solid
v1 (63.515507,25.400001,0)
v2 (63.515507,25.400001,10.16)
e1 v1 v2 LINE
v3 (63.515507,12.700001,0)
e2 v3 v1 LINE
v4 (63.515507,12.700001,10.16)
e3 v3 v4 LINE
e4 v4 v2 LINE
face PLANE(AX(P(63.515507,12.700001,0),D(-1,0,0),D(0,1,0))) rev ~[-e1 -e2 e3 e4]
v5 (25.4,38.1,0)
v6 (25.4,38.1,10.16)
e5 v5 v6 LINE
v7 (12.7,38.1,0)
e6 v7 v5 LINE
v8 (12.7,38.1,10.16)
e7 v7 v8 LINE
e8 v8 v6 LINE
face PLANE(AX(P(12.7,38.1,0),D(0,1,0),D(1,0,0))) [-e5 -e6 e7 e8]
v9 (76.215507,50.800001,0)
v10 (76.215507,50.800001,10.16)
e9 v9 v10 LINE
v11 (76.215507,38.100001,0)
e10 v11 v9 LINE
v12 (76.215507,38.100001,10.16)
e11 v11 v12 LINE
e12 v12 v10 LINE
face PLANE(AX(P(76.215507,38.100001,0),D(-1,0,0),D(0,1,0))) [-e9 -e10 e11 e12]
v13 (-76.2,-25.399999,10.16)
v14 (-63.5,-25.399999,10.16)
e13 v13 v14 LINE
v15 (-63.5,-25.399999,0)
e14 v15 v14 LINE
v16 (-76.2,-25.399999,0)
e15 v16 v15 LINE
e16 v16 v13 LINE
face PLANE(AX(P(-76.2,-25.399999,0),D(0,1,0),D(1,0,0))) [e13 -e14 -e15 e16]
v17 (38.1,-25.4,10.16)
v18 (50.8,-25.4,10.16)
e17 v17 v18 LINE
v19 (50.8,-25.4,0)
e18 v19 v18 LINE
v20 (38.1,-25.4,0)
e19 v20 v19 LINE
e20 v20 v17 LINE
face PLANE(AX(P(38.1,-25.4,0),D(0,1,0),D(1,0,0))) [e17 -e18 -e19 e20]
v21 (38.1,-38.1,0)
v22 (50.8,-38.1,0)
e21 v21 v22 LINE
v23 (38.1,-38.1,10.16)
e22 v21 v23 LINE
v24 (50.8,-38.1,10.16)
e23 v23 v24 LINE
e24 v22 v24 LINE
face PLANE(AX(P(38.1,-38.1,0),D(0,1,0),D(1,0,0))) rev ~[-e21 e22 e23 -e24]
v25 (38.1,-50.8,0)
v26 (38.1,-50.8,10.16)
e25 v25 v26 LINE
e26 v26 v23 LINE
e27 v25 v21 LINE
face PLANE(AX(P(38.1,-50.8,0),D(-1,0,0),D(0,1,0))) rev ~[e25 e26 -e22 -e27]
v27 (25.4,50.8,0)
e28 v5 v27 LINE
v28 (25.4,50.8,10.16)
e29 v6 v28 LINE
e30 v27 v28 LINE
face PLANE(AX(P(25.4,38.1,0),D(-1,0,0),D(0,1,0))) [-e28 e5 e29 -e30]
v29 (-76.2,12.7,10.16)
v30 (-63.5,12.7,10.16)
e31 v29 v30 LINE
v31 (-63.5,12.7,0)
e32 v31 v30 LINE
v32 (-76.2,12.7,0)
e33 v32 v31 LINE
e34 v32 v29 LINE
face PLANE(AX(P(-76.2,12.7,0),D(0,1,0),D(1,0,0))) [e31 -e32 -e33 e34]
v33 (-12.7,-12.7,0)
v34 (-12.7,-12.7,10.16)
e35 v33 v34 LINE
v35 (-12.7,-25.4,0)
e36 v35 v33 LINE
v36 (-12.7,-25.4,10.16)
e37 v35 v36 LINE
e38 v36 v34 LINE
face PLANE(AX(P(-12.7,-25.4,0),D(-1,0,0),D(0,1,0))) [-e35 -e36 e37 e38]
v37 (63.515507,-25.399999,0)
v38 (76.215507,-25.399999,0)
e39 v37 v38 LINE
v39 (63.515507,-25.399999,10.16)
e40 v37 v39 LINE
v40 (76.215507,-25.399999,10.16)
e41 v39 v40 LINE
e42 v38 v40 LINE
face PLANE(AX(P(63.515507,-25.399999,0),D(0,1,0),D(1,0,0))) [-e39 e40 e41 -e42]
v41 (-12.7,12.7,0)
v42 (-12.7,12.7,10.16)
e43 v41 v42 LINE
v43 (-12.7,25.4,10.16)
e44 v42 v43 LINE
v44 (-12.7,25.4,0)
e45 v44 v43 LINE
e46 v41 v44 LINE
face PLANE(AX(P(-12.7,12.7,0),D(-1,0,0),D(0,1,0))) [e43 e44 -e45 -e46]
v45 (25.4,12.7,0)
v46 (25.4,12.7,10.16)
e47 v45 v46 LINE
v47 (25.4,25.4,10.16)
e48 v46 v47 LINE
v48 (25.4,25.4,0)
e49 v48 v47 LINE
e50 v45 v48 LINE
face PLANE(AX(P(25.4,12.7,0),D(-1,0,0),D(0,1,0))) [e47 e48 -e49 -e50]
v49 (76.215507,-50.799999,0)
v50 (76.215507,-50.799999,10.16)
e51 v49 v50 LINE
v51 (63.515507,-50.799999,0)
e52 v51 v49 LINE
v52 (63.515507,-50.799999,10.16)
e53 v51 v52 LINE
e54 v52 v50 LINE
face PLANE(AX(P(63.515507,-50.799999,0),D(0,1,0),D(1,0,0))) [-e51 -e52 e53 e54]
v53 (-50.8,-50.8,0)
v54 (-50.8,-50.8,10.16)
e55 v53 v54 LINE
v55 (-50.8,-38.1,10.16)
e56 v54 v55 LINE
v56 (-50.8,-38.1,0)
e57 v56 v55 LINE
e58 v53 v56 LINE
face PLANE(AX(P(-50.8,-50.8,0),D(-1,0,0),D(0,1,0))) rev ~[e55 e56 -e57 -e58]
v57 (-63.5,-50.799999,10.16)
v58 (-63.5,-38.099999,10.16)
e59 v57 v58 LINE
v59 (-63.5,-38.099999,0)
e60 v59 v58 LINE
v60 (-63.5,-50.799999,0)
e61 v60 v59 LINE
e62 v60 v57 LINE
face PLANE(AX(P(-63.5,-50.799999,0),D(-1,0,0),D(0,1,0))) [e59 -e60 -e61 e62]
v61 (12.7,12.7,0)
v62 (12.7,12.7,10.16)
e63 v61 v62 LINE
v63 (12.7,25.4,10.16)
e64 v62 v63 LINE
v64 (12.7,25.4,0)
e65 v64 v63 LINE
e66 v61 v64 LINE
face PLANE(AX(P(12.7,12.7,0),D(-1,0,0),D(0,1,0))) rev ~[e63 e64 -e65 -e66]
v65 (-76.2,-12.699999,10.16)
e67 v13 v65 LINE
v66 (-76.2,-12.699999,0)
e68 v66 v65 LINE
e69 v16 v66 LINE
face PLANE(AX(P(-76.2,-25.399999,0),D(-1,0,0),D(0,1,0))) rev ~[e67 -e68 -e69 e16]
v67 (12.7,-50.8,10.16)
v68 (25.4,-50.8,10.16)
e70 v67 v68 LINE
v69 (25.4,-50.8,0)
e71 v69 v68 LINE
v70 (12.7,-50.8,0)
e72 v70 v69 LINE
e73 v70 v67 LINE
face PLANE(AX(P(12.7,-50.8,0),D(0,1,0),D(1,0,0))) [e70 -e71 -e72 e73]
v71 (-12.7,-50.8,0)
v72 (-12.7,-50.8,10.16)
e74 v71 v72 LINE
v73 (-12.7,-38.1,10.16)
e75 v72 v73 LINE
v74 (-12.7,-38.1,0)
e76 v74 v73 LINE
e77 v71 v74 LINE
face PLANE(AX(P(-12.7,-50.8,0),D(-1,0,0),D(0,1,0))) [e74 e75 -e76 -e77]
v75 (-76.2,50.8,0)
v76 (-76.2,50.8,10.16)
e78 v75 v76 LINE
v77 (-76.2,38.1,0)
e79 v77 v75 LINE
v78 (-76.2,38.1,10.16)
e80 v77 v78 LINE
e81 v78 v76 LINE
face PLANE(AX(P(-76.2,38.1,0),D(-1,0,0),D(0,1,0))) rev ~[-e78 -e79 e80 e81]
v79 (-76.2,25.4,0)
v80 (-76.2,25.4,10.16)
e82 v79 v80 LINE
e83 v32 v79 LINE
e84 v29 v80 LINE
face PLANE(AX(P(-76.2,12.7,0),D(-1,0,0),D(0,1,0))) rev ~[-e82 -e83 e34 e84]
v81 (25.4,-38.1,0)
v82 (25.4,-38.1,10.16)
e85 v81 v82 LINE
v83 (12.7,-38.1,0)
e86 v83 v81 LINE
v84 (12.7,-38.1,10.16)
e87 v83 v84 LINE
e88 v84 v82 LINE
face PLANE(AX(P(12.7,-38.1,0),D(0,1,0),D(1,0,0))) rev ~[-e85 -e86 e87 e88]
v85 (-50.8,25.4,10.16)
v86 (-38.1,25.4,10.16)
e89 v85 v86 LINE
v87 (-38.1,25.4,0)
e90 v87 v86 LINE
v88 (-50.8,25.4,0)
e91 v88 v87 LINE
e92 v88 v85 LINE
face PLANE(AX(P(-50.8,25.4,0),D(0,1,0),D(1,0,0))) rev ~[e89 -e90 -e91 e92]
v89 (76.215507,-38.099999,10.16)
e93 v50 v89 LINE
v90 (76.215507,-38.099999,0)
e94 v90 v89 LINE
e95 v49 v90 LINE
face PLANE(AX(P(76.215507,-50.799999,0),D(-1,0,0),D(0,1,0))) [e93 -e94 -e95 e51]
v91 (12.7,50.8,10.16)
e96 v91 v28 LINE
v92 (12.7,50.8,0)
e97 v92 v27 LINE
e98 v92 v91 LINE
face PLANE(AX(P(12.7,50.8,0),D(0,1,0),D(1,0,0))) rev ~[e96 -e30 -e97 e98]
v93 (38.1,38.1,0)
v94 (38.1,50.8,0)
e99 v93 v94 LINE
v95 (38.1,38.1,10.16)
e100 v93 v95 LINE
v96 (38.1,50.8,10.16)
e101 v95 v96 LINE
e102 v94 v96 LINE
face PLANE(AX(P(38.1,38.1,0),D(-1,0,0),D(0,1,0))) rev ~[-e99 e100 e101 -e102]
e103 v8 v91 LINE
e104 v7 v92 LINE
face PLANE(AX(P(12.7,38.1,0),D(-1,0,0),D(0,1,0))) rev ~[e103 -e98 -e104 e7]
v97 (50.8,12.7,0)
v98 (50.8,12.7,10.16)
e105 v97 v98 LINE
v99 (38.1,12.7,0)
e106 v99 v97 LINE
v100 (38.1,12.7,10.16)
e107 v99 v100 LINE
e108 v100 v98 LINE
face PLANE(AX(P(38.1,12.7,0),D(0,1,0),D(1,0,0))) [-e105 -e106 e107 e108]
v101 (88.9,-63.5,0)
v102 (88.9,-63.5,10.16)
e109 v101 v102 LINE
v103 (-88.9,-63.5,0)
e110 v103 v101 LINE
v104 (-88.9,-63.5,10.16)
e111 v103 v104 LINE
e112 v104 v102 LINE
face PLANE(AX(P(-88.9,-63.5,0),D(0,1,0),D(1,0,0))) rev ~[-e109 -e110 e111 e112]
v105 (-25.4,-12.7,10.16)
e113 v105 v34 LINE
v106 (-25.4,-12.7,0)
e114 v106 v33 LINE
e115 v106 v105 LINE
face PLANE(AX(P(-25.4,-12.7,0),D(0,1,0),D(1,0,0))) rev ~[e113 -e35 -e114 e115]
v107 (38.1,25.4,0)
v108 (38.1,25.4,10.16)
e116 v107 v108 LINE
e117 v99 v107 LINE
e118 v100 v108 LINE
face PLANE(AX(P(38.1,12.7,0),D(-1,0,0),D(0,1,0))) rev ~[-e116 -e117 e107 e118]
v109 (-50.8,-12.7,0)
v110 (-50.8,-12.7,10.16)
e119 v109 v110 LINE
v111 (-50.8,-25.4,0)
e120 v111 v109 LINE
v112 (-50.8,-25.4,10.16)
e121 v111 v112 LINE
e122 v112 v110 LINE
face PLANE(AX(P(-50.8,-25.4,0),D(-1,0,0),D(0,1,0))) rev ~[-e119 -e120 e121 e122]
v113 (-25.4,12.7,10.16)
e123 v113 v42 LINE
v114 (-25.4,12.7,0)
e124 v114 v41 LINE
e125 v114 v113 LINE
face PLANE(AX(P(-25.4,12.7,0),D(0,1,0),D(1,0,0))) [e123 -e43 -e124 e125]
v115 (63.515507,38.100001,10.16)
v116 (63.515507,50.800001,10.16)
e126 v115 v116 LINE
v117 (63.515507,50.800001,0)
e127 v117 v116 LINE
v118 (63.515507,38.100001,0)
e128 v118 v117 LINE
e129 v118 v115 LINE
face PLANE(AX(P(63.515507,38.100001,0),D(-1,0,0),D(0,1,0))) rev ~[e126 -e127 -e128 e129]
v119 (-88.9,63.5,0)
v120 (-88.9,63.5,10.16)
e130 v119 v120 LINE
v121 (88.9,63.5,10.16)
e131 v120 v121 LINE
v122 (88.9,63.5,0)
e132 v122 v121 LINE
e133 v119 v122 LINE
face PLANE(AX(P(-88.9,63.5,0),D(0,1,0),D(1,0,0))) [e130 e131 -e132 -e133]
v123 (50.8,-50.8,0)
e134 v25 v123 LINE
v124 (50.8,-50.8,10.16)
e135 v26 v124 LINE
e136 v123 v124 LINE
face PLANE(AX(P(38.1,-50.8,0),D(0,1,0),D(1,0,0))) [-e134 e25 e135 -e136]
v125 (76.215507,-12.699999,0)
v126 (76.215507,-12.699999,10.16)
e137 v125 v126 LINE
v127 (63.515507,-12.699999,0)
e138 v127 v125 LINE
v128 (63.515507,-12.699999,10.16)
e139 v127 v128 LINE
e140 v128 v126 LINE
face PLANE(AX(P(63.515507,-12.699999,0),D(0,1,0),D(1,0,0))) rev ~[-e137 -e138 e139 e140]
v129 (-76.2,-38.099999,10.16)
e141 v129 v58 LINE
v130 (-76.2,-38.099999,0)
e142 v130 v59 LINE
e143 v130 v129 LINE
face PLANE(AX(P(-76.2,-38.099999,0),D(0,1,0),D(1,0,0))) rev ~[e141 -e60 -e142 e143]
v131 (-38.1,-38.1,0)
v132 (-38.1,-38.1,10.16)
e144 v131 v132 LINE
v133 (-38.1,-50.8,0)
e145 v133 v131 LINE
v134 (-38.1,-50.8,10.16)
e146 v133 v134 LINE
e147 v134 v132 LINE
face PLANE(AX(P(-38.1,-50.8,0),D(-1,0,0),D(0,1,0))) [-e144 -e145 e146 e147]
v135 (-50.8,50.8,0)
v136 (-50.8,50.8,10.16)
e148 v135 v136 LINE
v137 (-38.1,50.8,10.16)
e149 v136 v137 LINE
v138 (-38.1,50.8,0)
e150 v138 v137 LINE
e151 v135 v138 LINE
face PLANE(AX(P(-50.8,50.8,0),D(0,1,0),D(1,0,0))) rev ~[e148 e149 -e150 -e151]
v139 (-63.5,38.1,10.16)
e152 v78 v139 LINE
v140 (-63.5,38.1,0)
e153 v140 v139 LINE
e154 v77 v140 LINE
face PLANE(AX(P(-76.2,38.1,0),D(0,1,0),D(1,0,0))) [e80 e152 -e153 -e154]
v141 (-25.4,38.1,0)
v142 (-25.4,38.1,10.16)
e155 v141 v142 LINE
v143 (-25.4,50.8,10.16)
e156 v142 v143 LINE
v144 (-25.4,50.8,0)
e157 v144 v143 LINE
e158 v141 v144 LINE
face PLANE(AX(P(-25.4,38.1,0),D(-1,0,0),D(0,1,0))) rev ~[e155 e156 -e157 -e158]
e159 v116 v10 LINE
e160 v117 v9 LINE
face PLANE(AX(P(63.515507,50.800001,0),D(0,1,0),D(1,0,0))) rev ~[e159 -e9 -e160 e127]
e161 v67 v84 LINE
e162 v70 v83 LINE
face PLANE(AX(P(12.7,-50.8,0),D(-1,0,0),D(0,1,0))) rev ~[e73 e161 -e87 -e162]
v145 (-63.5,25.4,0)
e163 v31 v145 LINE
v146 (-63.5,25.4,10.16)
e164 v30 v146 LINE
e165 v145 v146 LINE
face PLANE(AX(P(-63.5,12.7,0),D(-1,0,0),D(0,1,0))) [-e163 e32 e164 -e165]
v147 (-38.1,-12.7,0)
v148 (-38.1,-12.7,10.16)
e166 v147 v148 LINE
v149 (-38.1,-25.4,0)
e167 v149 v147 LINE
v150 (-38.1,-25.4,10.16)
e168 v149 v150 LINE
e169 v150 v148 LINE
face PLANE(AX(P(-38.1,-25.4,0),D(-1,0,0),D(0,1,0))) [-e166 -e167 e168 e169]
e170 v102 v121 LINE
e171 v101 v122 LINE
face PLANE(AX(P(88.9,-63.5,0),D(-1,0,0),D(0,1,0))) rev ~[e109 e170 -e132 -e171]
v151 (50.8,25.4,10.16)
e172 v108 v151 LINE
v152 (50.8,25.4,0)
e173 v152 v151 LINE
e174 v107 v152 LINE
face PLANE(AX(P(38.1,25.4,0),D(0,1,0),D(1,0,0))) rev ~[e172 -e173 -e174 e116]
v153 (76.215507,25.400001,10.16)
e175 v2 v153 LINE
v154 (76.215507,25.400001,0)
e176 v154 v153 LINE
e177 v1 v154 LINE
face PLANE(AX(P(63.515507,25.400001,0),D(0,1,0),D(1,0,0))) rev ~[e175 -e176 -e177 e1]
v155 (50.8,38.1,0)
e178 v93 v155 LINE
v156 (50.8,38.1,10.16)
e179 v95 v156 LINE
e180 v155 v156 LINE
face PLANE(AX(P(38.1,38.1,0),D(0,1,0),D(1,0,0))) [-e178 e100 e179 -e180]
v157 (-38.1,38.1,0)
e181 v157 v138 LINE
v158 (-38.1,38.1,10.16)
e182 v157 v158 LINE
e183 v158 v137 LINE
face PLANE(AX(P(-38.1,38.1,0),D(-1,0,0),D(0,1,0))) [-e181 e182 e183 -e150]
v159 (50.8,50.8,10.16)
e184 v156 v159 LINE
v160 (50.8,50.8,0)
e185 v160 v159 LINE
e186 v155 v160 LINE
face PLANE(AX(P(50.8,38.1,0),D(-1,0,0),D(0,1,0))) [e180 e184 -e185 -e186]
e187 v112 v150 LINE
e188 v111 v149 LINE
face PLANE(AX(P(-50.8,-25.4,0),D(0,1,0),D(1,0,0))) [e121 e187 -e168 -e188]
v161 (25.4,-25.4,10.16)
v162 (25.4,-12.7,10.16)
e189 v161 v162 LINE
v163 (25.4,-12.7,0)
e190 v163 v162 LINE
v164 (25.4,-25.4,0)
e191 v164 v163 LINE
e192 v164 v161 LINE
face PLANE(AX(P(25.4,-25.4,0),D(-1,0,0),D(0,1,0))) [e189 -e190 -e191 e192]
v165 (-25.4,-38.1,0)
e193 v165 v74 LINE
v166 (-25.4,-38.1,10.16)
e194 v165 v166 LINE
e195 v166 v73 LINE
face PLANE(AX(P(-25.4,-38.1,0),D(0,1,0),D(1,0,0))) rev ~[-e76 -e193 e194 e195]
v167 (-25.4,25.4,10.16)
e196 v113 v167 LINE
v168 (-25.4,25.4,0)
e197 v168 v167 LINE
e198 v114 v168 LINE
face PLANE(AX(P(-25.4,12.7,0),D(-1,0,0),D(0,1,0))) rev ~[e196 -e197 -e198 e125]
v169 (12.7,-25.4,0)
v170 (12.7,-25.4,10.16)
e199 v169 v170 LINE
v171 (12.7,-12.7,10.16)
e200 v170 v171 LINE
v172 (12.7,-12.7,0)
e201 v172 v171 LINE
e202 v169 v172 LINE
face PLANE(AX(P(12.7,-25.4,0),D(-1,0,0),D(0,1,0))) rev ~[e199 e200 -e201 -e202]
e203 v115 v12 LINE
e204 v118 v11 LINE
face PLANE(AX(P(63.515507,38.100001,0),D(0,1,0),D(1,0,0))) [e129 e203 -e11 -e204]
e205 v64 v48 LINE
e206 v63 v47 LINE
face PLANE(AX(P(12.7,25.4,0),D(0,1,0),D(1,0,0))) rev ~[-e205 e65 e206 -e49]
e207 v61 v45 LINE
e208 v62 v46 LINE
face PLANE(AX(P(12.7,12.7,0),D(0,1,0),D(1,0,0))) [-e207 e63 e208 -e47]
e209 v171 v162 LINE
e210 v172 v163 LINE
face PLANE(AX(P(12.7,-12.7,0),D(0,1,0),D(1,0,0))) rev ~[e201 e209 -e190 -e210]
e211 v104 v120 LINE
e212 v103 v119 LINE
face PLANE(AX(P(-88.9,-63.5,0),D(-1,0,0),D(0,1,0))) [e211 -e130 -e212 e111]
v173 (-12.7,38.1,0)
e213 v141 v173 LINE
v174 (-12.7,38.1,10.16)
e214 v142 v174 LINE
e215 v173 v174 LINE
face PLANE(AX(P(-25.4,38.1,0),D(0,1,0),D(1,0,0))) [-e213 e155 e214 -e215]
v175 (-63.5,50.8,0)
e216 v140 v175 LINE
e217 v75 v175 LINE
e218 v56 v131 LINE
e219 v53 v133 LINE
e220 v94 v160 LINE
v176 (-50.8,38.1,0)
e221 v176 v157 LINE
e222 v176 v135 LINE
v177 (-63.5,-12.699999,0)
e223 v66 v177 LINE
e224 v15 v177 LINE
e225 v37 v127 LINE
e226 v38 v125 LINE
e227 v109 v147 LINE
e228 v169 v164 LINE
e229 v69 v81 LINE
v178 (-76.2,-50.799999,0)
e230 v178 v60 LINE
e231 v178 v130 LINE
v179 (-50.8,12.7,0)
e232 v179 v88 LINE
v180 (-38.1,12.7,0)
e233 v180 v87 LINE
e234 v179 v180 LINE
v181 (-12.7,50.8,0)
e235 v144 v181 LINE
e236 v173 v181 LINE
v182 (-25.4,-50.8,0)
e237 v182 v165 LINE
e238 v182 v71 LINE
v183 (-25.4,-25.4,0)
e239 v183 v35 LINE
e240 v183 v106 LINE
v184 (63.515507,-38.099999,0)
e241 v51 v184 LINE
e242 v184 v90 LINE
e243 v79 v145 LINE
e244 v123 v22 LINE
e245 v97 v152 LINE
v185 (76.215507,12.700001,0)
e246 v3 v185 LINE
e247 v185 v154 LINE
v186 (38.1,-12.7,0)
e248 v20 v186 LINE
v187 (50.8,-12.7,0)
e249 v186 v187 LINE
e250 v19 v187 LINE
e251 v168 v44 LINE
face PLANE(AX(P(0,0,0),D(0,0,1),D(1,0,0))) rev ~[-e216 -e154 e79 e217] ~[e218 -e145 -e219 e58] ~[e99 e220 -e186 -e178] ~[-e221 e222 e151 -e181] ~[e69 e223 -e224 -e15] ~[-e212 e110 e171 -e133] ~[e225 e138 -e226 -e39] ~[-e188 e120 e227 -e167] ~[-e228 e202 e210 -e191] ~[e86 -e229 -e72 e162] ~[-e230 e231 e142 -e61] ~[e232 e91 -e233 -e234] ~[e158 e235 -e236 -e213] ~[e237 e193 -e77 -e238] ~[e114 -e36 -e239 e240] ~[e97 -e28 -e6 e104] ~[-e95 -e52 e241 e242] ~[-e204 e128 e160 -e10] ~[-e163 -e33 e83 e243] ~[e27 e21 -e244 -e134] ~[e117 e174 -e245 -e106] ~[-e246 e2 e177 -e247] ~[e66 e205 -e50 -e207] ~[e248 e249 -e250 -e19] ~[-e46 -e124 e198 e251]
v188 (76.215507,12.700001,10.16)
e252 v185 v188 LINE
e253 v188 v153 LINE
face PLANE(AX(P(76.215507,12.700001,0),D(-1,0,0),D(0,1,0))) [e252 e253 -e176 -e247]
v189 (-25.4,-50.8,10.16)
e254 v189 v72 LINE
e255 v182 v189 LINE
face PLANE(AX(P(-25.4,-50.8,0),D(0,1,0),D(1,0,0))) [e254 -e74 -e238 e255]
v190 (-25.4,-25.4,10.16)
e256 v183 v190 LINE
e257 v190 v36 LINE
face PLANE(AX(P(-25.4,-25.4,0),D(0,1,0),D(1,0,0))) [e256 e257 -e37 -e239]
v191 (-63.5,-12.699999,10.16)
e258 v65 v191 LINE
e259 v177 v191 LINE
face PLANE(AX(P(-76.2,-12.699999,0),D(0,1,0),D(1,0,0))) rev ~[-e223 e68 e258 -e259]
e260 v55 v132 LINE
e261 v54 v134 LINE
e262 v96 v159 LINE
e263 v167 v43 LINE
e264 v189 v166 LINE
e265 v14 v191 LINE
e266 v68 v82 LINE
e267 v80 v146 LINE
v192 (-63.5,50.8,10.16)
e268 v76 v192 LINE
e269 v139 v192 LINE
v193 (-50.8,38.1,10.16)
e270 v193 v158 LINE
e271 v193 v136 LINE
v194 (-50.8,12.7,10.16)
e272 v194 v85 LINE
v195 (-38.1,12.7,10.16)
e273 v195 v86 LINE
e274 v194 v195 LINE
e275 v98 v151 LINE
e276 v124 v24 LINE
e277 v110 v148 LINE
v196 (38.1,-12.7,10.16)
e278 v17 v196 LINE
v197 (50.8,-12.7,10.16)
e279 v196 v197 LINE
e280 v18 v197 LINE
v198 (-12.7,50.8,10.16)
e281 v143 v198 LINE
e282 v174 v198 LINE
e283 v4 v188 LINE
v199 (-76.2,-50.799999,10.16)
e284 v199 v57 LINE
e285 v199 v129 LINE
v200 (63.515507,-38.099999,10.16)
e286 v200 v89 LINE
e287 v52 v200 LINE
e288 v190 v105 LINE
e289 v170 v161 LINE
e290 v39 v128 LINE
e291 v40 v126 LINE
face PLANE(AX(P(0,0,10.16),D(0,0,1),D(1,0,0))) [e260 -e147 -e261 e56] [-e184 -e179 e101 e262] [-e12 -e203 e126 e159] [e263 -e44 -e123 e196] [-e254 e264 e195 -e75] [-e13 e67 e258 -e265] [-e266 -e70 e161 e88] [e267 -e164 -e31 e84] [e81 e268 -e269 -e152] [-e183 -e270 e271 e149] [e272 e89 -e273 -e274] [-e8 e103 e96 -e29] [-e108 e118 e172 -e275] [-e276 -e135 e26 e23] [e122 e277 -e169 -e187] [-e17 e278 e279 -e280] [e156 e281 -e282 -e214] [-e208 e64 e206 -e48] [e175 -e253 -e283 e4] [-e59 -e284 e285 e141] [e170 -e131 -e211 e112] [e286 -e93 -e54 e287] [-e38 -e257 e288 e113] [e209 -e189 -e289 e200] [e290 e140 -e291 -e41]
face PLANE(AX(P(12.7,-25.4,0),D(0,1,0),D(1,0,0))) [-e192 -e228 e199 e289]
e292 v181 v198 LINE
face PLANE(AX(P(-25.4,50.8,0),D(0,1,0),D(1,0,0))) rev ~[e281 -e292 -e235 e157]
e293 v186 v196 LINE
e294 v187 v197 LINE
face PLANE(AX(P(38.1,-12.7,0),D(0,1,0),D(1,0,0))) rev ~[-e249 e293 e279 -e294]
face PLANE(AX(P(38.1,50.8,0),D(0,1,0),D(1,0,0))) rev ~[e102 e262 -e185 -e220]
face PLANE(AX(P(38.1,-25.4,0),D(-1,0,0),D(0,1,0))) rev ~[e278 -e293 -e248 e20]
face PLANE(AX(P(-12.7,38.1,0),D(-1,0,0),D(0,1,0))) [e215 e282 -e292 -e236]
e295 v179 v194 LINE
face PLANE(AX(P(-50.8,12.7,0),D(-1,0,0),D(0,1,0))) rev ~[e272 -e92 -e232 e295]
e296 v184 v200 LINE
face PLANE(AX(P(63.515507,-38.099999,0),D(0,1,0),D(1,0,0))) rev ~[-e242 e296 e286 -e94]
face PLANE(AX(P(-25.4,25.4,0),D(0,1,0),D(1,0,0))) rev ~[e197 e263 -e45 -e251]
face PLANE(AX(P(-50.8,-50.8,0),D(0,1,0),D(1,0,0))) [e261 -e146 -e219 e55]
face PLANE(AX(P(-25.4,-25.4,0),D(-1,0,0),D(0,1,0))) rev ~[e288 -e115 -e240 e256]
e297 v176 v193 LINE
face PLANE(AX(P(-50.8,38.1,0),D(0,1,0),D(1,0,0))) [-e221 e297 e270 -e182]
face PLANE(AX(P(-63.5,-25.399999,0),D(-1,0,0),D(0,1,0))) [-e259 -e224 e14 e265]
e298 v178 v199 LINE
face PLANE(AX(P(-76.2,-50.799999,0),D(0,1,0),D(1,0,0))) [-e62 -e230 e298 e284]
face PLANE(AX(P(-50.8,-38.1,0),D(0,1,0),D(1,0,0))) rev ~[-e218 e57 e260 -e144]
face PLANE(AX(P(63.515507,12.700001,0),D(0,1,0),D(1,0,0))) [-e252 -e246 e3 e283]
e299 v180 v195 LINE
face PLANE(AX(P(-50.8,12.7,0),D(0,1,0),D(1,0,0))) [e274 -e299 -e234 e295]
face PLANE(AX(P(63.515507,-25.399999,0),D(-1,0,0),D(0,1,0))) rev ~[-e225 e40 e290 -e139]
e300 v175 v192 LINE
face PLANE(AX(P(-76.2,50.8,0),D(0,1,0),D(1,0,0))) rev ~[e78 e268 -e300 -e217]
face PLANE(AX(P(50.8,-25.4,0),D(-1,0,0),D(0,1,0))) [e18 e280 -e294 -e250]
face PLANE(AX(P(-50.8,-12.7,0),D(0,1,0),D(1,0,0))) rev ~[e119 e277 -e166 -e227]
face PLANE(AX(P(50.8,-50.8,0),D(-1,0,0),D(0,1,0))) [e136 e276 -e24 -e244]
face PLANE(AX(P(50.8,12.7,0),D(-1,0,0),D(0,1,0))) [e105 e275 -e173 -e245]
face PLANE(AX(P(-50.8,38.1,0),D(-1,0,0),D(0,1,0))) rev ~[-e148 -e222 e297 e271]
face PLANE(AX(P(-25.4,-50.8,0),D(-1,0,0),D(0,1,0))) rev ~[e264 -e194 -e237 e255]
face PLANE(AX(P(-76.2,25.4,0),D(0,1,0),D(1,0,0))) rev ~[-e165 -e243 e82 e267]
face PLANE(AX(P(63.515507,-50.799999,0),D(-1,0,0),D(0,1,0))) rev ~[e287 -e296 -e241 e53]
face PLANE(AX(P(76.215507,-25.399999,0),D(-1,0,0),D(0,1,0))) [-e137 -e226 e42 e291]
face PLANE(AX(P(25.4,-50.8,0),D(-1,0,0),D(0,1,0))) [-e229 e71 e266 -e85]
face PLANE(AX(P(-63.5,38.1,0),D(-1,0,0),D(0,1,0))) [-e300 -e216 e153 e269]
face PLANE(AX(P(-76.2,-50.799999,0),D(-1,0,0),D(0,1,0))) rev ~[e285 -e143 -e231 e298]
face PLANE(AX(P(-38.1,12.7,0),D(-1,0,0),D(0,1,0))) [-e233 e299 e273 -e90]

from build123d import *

# Parameters (mm, degrees)
F0_W     = 177.8
F0_H     = 127
F0_W_2   = 12.7
F0_H_2   = 12.7
F1_DEPTH = 10.16


with BuildPart() as f1:
    # F0 (on Top) → F1 (new body)
    with BuildSketch(Plane.XY):
        Rectangle(F0_W, F0_H)
        with Locations((-69.85, -44.449999)):
            Rectangle(F0_W_2, F0_H_2, mode=Mode.SUBTRACT)
        with Locations((-44.45, -44.45)):
            Rectangle(F0_W_2, F0_H_2, mode=Mode.SUBTRACT)
        with Locations((-19.05, -44.45)):
            Rectangle(F0_W_2, F0_H_2, mode=Mode.SUBTRACT)
        with Locations((-69.85, -19.049999)):
            Rectangle(F0_W_2, F0_H_2, mode=Mode.SUBTRACT)
        with Locations((-44.45, -19.05)):
            Rectangle(F0_W_2, F0_H_2, mode=Mode.SUBTRACT)
        with Locations((-19.05, -19.05)):
            Rectangle(F0_W_2, F0_H_2, mode=Mode.SUBTRACT)
        with Locations((19.05, -44.45)):
            Rectangle(F0_W_2, F0_H_2, mode=Mode.SUBTRACT)
        with Locations((44.45, -44.45)):
            Rectangle(F0_W_2, F0_H_2, mode=Mode.SUBTRACT)
        with Locations((69.865507, -44.449999)):
            Rectangle(F0_W_2, F0_H_2, mode=Mode.SUBTRACT)
        with Locations((19.05, -19.05)):
            Rectangle(F0_W_2, F0_H_2, mode=Mode.SUBTRACT)
        with Locations((44.45, -19.05)):
            Rectangle(F0_W_2, F0_H_2, mode=Mode.SUBTRACT)
        with Locations((69.865507, -19.049999)):
            Rectangle(F0_W_2, F0_H_2, mode=Mode.SUBTRACT)
        with Locations((-69.85, 19.05)):
            Rectangle(F0_W_2, F0_H_2, mode=Mode.SUBTRACT)
        with Locations((-44.45, 19.05)):
            Rectangle(F0_W_2, F0_H_2, mode=Mode.SUBTRACT)
        with Locations((-19.05, 19.05)):
            Rectangle(F0_W_2, F0_H_2, mode=Mode.SUBTRACT)
        with Locations((-69.85, 44.45)):
            Rectangle(F0_W_2, F0_H_2, mode=Mode.SUBTRACT)
        with Locations((-44.45, 44.45)):
            Rectangle(F0_W_2, F0_H_2, mode=Mode.SUBTRACT)
        with Locations((-19.05, 44.45)):
            Rectangle(F0_W_2, F0_H_2, mode=Mode.SUBTRACT)
        with Locations((19.05, 19.05)):
            Rectangle(F0_W_2, F0_H_2, mode=Mode.SUBTRACT)
        with Locations((44.45, 19.05)):
            Rectangle(F0_W_2, F0_H_2, mode=Mode.SUBTRACT)
        with Locations((69.865507, 19.050001)):
            Rectangle(F0_W_2, F0_H_2, mode=Mode.SUBTRACT)
        with Locations((19.05, 44.45)):
            Rectangle(F0_W_2, F0_H_2, mode=Mode.SUBTRACT)
        with Locations((44.45, 44.45)):
            Rectangle(F0_W_2, F0_H_2, mode=Mode.SUBTRACT)
        with Locations((69.865507, 44.450001)):
            Rectangle(F0_W_2, F0_H_2, mode=Mode.SUBTRACT)
    extrude(amount=F1_DEPTH)


solid = f1.part
